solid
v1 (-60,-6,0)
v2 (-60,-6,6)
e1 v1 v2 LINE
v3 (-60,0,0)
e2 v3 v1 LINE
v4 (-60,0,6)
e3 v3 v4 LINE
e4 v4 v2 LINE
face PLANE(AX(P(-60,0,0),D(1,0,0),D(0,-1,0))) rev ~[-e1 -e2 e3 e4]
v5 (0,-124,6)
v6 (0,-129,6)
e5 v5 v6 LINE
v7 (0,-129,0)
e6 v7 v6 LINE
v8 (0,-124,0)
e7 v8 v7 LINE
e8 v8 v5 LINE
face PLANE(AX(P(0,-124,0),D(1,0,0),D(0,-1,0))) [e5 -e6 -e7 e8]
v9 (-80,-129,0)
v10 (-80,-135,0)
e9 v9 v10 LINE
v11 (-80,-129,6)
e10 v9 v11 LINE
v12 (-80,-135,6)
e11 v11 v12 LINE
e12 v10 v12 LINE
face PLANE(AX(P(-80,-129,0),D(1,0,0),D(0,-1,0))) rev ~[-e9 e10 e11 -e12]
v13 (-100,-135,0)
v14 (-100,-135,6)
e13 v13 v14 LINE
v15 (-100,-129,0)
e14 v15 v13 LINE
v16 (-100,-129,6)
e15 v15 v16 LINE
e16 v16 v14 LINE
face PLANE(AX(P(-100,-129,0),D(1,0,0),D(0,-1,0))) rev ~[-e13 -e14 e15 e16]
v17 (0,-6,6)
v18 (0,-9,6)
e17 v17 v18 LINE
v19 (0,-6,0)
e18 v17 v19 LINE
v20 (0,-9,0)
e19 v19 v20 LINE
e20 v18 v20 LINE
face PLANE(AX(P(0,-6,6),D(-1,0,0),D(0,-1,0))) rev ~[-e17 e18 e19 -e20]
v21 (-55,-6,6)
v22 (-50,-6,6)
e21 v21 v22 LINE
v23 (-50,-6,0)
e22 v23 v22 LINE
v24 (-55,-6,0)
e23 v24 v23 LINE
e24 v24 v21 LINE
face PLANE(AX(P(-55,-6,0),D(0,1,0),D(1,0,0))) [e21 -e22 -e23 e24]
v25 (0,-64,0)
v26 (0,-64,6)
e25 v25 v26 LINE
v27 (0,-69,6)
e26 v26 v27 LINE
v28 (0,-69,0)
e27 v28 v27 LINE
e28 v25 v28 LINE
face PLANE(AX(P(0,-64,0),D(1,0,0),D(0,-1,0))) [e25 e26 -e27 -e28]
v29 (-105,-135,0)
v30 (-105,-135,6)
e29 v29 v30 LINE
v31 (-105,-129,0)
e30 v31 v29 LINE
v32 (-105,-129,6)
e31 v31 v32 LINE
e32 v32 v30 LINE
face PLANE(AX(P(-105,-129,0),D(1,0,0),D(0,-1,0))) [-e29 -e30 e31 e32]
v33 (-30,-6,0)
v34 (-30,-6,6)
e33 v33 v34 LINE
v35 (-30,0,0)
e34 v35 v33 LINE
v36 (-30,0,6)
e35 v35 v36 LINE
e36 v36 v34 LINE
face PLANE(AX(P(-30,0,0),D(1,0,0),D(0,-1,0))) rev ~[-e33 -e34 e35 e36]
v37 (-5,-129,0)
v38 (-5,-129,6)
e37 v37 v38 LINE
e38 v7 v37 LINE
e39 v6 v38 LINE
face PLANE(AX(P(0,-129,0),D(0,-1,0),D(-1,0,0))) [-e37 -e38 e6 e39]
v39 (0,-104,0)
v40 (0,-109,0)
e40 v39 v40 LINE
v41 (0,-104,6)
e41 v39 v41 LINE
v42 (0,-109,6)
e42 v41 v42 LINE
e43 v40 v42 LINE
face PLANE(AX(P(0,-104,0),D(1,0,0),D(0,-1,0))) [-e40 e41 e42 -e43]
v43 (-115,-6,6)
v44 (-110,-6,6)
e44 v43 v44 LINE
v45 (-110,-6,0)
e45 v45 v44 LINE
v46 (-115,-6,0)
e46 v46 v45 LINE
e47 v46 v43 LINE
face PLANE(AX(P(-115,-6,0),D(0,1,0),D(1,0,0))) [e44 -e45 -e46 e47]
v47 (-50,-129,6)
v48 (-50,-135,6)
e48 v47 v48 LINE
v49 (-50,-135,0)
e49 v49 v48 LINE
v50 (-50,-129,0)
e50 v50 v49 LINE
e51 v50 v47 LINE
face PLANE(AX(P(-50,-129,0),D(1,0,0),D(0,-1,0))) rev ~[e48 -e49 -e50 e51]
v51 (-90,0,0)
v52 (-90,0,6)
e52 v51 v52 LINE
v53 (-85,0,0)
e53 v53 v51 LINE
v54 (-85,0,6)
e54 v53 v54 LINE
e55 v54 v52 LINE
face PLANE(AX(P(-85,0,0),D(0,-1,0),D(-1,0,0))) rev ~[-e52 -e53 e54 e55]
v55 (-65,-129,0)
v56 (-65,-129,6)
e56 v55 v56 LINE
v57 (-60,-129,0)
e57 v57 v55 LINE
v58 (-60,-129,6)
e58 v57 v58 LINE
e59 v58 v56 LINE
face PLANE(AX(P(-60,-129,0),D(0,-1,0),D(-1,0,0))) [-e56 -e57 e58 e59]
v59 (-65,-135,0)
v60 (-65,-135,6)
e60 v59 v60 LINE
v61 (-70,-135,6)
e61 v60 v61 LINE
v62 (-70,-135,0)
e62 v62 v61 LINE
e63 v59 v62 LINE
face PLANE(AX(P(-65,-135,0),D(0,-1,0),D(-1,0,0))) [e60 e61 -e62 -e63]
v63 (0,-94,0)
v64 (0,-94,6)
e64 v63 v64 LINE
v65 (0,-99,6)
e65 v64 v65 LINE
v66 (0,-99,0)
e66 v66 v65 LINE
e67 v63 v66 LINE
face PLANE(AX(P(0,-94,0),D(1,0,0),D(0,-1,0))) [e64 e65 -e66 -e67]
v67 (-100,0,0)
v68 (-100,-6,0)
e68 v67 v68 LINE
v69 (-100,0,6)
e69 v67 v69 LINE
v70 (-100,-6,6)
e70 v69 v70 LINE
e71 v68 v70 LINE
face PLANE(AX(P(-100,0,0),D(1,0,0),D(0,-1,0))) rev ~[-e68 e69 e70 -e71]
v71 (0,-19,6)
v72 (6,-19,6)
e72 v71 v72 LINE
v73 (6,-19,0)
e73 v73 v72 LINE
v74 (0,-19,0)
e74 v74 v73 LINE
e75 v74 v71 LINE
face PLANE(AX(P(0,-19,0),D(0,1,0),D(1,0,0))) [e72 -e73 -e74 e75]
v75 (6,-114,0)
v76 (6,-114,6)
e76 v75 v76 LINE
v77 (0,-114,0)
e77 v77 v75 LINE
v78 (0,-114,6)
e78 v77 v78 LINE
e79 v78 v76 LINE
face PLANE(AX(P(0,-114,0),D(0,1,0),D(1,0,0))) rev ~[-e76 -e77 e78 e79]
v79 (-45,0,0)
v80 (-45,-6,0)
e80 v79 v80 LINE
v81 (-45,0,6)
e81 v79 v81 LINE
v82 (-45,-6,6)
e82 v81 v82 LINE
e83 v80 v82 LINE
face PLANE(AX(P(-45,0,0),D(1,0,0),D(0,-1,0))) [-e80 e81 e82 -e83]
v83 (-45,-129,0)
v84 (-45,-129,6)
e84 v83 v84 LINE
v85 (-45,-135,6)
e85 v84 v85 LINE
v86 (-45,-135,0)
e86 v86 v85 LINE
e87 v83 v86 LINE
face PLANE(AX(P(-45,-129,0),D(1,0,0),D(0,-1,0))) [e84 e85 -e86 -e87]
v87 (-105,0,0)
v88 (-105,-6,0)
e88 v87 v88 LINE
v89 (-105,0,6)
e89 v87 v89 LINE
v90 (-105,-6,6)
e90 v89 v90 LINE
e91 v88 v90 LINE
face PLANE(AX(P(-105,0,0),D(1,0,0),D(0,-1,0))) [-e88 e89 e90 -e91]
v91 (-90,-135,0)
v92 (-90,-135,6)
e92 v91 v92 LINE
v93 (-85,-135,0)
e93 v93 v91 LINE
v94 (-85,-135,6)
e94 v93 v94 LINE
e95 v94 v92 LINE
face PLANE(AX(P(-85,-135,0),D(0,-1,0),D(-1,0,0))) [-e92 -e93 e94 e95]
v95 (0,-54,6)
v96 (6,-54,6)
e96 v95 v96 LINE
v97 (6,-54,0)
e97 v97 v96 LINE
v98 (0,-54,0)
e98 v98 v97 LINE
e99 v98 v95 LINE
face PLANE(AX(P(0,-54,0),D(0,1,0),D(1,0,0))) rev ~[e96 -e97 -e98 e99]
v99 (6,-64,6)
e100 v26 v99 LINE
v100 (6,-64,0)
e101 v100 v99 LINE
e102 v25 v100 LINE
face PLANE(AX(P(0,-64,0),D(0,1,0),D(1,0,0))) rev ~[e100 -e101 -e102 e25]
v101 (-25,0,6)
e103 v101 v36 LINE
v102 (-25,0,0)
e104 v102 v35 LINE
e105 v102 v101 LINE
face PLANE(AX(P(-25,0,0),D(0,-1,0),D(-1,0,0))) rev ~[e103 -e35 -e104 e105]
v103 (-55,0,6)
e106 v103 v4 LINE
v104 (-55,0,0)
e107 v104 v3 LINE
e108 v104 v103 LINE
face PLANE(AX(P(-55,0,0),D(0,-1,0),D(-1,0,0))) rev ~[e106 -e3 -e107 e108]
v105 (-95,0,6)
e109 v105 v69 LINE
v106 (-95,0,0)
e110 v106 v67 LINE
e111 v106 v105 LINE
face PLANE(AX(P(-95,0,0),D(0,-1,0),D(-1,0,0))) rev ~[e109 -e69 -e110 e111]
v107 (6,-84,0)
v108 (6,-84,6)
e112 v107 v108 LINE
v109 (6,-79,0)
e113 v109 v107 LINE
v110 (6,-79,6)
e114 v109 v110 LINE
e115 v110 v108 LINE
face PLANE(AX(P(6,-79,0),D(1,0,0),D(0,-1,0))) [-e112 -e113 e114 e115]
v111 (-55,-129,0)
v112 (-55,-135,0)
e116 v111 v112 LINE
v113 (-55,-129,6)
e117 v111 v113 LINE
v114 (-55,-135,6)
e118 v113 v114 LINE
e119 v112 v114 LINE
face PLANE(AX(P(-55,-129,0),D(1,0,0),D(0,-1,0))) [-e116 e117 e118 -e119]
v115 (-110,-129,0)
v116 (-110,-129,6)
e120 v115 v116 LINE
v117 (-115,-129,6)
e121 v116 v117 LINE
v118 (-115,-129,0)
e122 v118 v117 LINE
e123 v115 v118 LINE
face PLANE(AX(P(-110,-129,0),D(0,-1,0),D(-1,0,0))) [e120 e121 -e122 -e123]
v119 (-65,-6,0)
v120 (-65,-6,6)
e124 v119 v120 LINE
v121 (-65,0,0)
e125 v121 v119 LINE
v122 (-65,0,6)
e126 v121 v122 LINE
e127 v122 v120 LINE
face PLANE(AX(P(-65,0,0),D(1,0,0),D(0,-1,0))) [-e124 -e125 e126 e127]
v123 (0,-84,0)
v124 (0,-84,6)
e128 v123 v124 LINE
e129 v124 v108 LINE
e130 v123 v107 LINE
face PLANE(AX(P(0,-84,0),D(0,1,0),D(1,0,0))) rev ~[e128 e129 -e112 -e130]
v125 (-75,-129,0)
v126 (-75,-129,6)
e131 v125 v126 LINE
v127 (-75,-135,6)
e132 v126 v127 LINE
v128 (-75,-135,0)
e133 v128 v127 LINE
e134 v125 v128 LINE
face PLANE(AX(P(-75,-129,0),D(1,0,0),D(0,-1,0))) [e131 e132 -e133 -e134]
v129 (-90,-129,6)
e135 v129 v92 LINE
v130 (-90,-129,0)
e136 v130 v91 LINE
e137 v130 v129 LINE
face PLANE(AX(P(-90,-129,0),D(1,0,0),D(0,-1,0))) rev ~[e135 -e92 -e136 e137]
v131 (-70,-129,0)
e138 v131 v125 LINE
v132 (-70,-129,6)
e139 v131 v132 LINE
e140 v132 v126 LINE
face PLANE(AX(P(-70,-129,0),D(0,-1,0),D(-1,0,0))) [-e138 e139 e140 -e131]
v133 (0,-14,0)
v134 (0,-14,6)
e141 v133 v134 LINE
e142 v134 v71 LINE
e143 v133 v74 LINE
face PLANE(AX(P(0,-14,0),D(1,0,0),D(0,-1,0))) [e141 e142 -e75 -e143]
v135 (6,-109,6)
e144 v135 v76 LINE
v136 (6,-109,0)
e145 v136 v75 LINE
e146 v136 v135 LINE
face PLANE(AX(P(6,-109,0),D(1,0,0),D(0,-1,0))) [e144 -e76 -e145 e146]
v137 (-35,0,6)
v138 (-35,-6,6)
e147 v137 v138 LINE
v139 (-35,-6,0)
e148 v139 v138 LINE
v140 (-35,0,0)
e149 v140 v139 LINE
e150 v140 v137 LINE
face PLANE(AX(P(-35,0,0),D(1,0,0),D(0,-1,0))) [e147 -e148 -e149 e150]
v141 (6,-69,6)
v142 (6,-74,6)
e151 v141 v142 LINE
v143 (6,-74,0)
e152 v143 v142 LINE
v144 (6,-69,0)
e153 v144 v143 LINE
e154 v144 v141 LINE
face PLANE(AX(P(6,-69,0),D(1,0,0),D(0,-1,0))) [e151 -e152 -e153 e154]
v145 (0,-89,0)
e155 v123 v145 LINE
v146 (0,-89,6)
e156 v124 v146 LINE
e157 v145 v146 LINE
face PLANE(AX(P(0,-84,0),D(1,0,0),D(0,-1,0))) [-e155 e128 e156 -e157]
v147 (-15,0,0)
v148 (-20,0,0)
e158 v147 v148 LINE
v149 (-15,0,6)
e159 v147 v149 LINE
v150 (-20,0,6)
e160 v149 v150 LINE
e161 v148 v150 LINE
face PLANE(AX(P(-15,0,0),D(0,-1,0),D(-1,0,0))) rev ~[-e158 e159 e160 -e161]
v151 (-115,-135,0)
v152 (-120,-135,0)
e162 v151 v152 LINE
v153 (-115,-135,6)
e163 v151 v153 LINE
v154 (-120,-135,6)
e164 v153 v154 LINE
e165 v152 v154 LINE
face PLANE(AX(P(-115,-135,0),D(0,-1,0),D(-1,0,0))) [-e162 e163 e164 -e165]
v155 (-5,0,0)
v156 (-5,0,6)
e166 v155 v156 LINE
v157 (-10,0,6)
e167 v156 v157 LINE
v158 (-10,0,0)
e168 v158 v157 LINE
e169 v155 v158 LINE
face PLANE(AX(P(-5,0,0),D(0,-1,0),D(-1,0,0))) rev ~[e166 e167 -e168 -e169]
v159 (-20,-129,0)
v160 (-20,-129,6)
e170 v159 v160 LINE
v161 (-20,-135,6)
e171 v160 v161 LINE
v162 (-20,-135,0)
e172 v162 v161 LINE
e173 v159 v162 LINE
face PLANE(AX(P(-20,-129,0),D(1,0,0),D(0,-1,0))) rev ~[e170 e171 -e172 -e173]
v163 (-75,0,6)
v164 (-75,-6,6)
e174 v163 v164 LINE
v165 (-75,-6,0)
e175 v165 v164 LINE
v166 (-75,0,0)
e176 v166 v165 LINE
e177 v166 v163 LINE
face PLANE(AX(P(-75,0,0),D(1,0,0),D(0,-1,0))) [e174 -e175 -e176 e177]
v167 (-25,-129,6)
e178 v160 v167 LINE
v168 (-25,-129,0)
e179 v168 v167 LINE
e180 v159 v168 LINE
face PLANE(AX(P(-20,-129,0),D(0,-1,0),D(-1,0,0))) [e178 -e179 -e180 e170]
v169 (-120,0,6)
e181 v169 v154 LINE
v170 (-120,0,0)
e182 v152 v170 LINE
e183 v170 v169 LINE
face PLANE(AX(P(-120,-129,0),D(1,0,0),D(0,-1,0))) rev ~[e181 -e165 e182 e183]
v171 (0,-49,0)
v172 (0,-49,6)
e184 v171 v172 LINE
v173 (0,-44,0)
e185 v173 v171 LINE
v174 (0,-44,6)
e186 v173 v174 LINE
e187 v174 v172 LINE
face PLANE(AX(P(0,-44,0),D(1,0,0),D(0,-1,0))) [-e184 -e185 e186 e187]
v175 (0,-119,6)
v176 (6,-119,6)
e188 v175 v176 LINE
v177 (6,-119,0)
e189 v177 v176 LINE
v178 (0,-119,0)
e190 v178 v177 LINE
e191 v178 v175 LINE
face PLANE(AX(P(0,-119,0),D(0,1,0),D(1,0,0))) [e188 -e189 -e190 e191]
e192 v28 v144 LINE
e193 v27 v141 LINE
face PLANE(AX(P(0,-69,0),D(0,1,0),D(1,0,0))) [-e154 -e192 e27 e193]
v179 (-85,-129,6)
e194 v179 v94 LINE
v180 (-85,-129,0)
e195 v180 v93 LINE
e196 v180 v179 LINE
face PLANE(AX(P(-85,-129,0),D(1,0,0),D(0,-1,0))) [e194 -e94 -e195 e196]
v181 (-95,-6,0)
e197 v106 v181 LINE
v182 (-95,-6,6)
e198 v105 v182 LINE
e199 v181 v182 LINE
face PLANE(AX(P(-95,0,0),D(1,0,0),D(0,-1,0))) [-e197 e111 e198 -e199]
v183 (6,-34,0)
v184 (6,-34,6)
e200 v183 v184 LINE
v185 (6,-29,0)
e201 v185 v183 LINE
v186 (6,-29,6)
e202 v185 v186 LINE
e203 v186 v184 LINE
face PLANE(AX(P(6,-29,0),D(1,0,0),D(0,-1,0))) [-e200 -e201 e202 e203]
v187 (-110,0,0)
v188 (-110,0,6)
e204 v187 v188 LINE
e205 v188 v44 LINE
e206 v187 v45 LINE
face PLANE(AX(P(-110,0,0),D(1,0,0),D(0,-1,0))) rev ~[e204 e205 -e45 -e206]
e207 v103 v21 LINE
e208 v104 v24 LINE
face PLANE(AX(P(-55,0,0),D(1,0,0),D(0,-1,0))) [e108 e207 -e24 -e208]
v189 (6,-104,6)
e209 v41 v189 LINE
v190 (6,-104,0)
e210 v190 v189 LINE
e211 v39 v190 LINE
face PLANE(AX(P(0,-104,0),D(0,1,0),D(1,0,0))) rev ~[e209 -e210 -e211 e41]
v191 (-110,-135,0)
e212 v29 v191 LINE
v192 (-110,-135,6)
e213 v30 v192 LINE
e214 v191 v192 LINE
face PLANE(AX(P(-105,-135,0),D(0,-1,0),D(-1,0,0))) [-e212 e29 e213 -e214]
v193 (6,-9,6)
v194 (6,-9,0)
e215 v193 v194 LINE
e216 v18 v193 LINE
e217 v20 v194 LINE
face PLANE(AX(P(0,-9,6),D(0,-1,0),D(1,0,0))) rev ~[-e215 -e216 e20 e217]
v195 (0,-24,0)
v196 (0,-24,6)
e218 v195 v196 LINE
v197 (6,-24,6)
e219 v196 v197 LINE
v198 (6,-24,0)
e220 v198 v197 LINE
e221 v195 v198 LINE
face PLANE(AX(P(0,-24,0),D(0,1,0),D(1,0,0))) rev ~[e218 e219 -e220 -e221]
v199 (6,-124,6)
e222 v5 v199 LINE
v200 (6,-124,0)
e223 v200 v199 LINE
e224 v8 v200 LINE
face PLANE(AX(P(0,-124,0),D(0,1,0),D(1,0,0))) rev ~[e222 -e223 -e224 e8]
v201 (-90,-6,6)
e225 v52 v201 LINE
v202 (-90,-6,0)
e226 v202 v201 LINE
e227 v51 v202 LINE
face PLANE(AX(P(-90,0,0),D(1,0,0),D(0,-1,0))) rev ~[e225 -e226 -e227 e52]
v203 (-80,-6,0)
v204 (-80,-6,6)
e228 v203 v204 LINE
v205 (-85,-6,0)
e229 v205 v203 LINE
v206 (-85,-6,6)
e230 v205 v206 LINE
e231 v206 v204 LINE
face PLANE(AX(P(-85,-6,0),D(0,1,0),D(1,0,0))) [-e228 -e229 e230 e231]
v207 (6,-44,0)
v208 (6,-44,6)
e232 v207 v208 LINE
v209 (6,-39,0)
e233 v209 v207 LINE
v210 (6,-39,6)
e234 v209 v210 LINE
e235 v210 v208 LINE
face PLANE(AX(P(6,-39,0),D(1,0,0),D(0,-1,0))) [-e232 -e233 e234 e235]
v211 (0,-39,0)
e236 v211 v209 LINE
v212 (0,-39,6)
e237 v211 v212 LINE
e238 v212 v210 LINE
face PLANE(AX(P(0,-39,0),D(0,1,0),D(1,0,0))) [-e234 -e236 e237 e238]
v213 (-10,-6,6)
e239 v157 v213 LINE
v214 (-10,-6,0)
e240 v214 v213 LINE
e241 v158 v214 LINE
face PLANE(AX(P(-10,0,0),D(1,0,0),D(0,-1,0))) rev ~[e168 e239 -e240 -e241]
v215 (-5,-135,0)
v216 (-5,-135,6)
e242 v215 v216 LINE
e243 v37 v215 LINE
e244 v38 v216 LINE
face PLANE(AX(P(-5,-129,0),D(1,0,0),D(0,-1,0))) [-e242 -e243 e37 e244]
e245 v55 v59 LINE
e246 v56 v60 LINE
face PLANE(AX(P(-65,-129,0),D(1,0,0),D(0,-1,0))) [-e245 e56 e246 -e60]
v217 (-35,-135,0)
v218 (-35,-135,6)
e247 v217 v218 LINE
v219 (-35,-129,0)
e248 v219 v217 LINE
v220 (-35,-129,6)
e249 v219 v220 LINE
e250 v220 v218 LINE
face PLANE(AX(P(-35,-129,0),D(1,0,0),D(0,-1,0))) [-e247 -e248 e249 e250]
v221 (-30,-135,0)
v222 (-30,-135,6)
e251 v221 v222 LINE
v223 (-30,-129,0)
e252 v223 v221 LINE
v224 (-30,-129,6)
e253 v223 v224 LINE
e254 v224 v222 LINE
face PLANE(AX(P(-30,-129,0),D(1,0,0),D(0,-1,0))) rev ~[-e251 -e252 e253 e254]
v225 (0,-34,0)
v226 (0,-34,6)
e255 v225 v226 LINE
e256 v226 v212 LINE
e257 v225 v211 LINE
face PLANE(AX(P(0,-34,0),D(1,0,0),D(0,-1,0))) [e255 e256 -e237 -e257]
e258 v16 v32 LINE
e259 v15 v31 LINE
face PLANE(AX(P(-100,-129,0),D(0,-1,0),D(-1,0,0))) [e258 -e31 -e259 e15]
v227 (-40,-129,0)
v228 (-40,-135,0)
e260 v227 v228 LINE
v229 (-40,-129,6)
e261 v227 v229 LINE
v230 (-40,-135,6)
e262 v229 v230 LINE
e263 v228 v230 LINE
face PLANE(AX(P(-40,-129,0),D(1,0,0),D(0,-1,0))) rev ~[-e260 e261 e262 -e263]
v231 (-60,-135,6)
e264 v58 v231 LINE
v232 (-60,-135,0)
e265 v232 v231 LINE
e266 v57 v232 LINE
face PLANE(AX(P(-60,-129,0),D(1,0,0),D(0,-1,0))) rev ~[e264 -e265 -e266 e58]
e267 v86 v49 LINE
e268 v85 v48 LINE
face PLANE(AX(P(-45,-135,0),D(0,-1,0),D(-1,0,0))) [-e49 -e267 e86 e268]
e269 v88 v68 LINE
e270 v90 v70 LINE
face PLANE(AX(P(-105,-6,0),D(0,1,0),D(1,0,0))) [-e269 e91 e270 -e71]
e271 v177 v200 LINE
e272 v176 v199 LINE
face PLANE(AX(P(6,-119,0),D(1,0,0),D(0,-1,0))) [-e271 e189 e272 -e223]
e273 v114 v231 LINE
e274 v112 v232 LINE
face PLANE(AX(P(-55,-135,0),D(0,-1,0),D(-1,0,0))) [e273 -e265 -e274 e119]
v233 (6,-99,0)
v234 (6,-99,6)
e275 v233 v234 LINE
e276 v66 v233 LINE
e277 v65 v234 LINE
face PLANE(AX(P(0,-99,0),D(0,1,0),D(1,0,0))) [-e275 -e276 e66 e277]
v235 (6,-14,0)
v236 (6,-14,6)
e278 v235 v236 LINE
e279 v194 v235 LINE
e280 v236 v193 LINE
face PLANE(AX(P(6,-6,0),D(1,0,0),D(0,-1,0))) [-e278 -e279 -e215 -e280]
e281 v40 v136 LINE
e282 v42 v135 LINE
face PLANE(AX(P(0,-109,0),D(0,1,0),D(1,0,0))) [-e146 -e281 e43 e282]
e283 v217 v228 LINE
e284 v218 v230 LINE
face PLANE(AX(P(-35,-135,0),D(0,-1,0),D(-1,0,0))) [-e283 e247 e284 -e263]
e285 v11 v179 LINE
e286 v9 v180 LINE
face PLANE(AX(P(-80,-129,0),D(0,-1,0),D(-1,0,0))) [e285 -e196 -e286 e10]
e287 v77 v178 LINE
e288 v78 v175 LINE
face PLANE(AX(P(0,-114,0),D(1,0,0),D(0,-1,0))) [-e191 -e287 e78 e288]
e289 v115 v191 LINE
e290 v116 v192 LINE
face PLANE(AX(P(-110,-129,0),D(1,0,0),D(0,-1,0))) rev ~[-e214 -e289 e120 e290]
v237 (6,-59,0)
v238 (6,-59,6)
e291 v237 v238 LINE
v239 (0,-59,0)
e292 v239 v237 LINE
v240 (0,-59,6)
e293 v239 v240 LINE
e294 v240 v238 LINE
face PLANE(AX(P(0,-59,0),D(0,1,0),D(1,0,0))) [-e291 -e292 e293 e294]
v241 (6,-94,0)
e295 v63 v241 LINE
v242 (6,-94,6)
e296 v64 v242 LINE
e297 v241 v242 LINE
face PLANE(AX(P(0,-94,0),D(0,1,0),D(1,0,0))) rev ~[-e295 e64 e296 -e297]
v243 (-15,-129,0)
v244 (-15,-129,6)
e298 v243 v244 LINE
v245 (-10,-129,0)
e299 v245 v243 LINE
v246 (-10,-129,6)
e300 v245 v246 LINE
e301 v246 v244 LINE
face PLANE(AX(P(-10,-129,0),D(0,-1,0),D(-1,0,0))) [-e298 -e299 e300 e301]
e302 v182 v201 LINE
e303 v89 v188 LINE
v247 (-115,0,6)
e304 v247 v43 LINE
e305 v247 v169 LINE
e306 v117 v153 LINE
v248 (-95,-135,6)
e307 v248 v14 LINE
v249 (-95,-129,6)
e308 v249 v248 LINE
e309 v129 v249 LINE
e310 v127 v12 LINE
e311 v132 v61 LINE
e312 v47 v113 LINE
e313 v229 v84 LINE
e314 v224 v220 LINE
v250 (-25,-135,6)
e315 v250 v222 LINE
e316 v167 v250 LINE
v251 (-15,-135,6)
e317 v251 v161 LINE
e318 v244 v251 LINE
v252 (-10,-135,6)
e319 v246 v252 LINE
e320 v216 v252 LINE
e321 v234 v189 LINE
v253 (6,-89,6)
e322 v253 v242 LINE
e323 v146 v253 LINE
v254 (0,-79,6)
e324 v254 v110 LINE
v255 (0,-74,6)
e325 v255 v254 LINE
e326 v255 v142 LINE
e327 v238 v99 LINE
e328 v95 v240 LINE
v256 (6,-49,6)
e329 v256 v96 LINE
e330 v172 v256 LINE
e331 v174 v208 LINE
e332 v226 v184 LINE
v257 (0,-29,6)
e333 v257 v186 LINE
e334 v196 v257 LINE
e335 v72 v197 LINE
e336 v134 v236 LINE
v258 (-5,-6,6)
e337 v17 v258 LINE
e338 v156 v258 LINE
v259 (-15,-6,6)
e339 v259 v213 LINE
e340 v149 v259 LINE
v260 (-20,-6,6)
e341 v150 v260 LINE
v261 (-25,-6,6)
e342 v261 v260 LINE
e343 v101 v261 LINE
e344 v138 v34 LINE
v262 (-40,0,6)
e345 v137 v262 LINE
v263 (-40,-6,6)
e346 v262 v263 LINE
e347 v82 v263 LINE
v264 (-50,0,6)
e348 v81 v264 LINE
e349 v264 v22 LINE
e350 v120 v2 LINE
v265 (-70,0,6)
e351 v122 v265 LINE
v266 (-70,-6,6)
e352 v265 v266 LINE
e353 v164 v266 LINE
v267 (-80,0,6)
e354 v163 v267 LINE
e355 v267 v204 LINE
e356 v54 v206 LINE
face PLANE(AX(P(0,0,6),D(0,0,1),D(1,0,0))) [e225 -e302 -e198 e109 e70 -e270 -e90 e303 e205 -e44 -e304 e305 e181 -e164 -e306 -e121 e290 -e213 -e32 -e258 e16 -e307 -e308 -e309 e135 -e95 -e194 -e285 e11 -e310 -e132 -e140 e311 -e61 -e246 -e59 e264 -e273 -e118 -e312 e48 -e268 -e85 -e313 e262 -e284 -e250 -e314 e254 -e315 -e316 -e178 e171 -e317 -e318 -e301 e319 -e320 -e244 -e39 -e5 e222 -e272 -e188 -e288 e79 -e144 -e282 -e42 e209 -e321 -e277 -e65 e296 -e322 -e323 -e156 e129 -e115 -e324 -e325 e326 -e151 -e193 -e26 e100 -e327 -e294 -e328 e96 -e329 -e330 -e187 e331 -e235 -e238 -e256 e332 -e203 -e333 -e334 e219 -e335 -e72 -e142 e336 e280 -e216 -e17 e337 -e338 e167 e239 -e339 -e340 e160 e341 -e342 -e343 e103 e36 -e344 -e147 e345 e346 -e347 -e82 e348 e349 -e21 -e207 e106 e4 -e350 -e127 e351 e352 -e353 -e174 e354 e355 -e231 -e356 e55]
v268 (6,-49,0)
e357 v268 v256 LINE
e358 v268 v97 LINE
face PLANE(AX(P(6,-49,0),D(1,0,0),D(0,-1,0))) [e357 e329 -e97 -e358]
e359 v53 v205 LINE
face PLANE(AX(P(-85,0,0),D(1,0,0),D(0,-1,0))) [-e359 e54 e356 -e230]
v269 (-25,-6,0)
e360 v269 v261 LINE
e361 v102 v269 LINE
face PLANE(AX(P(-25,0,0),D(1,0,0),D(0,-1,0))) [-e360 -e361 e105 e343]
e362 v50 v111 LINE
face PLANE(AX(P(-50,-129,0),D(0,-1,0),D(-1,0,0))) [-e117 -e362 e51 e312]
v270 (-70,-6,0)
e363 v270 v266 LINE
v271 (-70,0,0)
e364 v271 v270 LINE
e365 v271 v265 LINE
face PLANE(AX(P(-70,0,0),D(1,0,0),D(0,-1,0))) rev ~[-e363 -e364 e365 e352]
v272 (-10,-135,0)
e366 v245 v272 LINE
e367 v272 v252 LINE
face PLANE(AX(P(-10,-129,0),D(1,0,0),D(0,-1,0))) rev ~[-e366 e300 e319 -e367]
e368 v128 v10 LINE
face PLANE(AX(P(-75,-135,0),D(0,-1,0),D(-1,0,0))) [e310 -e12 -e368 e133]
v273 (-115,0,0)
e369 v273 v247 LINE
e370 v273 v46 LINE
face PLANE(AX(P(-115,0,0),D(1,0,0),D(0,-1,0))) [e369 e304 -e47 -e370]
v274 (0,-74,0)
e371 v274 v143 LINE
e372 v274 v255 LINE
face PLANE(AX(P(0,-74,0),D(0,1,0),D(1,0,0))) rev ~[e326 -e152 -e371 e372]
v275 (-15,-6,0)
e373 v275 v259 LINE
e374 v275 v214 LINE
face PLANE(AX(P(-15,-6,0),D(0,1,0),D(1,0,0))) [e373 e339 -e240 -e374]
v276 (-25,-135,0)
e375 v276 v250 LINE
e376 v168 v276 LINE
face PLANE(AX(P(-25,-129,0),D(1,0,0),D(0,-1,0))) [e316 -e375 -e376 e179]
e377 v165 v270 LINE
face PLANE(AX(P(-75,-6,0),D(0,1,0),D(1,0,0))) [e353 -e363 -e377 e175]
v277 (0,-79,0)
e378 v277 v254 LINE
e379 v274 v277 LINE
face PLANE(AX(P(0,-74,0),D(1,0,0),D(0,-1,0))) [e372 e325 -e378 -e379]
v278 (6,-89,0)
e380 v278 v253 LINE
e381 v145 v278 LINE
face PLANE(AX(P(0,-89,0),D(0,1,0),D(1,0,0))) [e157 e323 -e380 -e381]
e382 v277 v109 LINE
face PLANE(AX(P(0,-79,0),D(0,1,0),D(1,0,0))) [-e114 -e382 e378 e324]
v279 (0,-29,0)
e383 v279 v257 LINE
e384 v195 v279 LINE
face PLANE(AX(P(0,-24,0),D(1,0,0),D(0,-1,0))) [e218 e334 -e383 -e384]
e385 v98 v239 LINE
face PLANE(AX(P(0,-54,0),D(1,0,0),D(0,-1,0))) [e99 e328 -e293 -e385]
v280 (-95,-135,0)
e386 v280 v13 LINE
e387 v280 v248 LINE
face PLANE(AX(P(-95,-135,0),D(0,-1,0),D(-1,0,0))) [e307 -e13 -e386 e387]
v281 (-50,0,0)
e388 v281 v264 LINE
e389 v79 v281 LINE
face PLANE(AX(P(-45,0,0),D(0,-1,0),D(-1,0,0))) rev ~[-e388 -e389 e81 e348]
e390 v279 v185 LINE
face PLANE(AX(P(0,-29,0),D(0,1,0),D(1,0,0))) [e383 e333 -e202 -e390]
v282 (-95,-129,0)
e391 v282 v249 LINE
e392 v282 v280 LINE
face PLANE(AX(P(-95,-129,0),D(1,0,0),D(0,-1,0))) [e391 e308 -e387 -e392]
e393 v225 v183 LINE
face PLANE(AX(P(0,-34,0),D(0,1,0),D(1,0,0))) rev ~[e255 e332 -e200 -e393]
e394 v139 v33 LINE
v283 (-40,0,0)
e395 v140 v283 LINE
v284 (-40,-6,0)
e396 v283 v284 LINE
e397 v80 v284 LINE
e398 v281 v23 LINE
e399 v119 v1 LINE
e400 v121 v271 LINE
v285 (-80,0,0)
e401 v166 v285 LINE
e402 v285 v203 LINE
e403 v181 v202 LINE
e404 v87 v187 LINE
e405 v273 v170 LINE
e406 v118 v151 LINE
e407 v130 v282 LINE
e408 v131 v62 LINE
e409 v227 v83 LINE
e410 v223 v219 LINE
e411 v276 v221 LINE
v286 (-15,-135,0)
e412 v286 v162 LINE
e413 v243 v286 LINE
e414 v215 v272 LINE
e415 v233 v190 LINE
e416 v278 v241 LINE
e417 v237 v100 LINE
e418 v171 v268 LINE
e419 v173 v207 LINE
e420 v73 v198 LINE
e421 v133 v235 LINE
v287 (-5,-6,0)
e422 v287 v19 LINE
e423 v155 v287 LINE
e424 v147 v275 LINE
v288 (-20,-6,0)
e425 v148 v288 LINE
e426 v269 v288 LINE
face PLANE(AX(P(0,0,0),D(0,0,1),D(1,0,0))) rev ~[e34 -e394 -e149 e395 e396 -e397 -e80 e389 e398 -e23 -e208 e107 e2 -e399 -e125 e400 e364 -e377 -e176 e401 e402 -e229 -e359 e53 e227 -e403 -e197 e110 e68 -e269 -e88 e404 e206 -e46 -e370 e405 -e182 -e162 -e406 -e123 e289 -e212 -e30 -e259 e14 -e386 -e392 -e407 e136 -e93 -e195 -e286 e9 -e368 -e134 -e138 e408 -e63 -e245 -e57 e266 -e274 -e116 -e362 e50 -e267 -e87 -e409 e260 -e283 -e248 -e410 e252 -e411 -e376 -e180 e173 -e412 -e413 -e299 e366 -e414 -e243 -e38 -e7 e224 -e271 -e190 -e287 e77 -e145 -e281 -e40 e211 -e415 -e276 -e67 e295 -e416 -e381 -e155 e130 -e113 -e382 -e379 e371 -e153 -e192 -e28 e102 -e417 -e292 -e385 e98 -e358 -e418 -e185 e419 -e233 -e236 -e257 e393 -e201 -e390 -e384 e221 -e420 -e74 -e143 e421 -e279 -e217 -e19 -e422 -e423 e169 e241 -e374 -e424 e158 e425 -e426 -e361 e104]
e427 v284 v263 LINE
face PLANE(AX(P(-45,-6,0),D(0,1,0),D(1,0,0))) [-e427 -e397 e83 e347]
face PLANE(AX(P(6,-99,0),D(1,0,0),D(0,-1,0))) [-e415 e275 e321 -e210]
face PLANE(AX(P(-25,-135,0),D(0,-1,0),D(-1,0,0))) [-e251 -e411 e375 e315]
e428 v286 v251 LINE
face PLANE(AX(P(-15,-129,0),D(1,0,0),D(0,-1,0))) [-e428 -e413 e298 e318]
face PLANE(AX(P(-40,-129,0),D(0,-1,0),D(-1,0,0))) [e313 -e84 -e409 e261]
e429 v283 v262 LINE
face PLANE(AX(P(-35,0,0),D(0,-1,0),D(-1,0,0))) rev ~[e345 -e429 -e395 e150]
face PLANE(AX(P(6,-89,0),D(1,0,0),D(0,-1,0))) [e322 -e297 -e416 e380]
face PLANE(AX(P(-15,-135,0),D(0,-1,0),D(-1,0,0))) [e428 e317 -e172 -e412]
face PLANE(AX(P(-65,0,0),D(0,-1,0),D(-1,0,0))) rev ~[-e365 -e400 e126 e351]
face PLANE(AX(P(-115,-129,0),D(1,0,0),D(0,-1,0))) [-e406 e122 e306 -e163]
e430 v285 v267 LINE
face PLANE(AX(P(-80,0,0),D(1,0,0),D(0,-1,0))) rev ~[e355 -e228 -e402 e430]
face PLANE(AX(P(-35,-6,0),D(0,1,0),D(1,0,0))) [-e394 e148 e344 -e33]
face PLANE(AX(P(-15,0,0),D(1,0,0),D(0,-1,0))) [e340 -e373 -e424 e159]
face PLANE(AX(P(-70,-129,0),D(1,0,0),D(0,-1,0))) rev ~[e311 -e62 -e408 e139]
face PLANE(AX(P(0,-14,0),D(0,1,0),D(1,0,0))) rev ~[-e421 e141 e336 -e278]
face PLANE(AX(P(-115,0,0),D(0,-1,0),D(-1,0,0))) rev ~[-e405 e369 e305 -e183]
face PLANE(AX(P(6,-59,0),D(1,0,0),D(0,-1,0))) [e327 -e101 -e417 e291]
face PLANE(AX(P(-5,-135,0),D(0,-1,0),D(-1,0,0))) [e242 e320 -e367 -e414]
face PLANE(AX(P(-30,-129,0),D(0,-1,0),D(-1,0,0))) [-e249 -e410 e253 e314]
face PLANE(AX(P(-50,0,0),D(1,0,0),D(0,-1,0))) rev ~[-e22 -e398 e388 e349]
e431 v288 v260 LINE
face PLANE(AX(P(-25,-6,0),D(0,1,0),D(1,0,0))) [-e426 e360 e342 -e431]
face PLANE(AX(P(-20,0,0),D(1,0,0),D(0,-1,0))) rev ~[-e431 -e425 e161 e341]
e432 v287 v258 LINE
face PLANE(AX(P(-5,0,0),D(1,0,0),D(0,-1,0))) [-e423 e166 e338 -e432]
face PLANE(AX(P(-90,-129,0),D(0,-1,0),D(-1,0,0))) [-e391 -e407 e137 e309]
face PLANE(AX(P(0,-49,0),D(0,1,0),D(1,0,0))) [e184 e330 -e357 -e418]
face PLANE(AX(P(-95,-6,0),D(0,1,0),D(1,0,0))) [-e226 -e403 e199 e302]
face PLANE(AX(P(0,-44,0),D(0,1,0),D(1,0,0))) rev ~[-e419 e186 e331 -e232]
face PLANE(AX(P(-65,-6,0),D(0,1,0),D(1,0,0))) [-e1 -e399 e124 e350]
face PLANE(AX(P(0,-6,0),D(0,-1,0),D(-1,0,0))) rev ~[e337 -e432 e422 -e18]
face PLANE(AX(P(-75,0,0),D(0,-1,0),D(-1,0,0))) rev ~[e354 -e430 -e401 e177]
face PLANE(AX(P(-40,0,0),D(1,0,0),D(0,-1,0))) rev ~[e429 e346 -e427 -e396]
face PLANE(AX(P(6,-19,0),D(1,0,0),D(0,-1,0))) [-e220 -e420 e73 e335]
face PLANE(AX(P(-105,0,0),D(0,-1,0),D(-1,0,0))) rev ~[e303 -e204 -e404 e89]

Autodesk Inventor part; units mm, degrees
ref_plane "YZ Plane" through (0, 0, 0) normal (1, 0, 0) x (0, 1, 0)
ref_plane "XZ Plane" through (0, 0, 0) normal (0, 1, 0) x (-1, 0, 0)
ref_plane "XY Plane" through (0, 0, 0) normal (0, 0, 1) x (1, 0, 0)
sketch "Эскиз1" plane through (0, 0, 0) normal (0, 0, 1) x (1, 0, 0)
  line L0 (-115, -129) -> (-120, -129) projected
  line L1 (0, -129) -> (-5, -129) projected
  line L2 (-5, -129) -> (-10, -129) projected
  line L3 (-10, -129) -> (-10, -135) projected
  line L4 (-5, -135) -> (-10, -135) projected
  line L5 (-5, -129) -> (-5, -135) projected
  line L6 (-15, -129) -> (-20, -129) projected
  line L7 (-20, -129) -> (-20, -135) projected
  line L8 (-15, -135) -> (-20, -135) projected
  line L9 (-15, -129) -> (-15, -135) projected
  line L10 (-10, -129) -> (-15, -129) projected
  line L11 (-25, -129) -> (-30, -129) projected
  line L12 (-30, -129) -> (-30, -135) projected
  line L13 (-25, -135) -> (-30, -135) projected
  line L14 (-25, -129) -> (-25, -135) projected
  line L15 (-35, -129) -> (-40, -129) projected
  line L16 (-40, -129) -> (-40, -135) projected
  line L17 (-35, -135) -> (-40, -135) projected
  line L18 (-35, -129) -> (-35, -135) projected
  line L19 (-45, -129) -> (-50, -129) projected
  line L20 (-50, -129) -> (-50, -135) projected
  line L21 (-45, -135) -> (-50, -135) projected
  line L22 (-45, -129) -> (-45, -135) projected
  line L23 (-55, -129) -> (-60, -129) projected
  line L24 (-60, -129) -> (-60, -135) projected
  line L25 (-55, -135) -> (-60, -135) projected
  line L26 (-55, -129) -> (-55, -135) projected
  line L27 (-65, -129) -> (-70, -129) projected
  line L28 (-70, -129) -> (-70, -135) projected
  line L29 (-65, -135) -> (-70, -135) projected
  line L30 (-65, -129) -> (-65, -135) projected
  line L31 (-75, -129) -> (-80, -129) projected
  line L32 (-80, -129) -> (-80, -135) projected
  line L33 (-75, -135) -> (-80, -135) projected
  line L34 (-75, -129) -> (-75, -135) projected
  line L35 (-85, -129) -> (-90, -129) projected
  line L36 (-90, -129) -> (-90, -135) projected
  line L37 (-85, -135) -> (-90, -135) projected
  line L38 (-85, -129) -> (-85, -135) projected
  line L39 (-105, -129) -> (-110, -129) projected
  line L40 (-110, -129) -> (-110, -135) projected
  line L41 (-105, -135) -> (-110, -135) projected
  line L42 (-105, -129) -> (-105, -135) projected
  line L43 (-95, -129) -> (-100, -129) projected
  line L44 (-100, -129) -> (-100, -135) projected
  line L45 (-95, -135) -> (-100, -135) projected
  line L46 (-95, -129) -> (-95, -135) projected
  line L47 (-115, -129) -> (-120, -129) projected
  line L48 (-120, -129) -> (-120, -135) projected
  line L49 (-115, -135) -> (-120, -135) projected
  line L50 (-115, -129) -> (-115, -135) projected
  line L51 (-110, -129) -> (-115, -129) projected
  line L52 (-115, 0) -> (-120, 0) projected
  line L53 (-120, 0) -> (-120, -6) projected
  line L54 (-115, -6) -> (-120, -6) projected
  line L55 (-115, 0) -> (-115, -6) projected
  line L56 (-105, 0) -> (-110, 0) projected
  line L57 (-110, 0) -> (-110, -6) projected
  line L58 (-105, -6) -> (-110, -6) projected
  line L59 (-105, 0) -> (-105, -6) projected
  line L60 (-95, 0) -> (-100, 0) projected
  line L61 (-100, 0) -> (-100, -6) projected
  line L62 (-95, -6) -> (-100, -6) projected
  line L63 (-95, 0) -> (-95, -6) projected
  line L64 (-85, 0) -> (-90, 0) projected
  line L65 (-90, 0) -> (-90, -6) projected
  line L66 (-85, -6) -> (-90, -6) projected
  line L67 (-85, 0) -> (-85, -6) projected
  line L68 (-75, 0) -> (-80, 0) projected
  line L69 (-80, 0) -> (-80, -6) projected
  line L70 (-75, -6) -> (-80, -6) projected
  line L71 (-75, 0) -> (-75, -6) projected
  line L72 (-65, 0) -> (-70, 0) projected
  line L73 (-70, 0) -> (-70, -6) projected
  line L74 (-65, -6) -> (-70, -6) projected
  line L75 (-65, 0) -> (-65, -6) projected
  line L76 (-55, 0) -> (-60, 0) projected
  line L77 (-60, 0) -> (-60, -6) projected
  line L78 (-55, -6) -> (-60, -6) projected
  line L79 (-55, 0) -> (-55, -6) projected
  line L80 (-45, 0) -> (-50, 0) projected
  line L81 (-50, 0) -> (-50, -6) projected
  line L82 (-45, -6) -> (-50, -6) projected
  line L83 (-45, 0) -> (-45, -6) projected
  line L84 (-35, -6) -> (-40, -6) projected
  line L85 (-25, 0) -> (-30, 0) projected
  line L86 (-30, 0) -> (-30, -6) projected
  line L87 (-25, -6) -> (-30, -6) projected
  line L88 (-25, 0) -> (-25, -6) projected
  line L89 (-15, 0) -> (-20, 0) projected
  line L90 (-20, 0) -> (-20, -6) projected
  line L91 (-15, -6) -> (-20, -6) projected
  line L92 (-15, 0) -> (-15, -6) projected
  line L93 (-5, 0) -> (-10, 0) projected
  line L94 (-10, 0) -> (-10, -6) projected
  line L95 (-5, -6) -> (-10, -6) projected
  line L96 (-5, 0) -> (-5, -6) projected
  line L97 (0, -6) -> (-5, -6) projected
  line L98 (0, 0) -> (0, -6) projected
  line L99 (0, -6) -> (6, -6) projected
  line L100 (6, 0) -> (6, -6) projected
  line L101 (0, 0) -> (6, 0) projected
  line L102 (0, -6) -> (0, -9) projected
  line L103 (0, -6) -> (0, -9) projected
  line L104 (0, -9) -> (6, -9) projected
  line L105 (6, -6) -> (6, -9) projected
  line L106 (0, -6) -> (6, -6) projected
  line L107 (0, -9) -> (0, -14) projected
  line L108 (0, -14) -> (6, -14) projected
  line L109 (6, -9) -> (6, -14) projected
  line L110 (0, -9) -> (6, -9) projected
  line L111 (0, -19) -> (0, -24) projected
  line L112 (0, -24) -> (6, -24) projected
  line L113 (6, -19) -> (6, -24) projected
  line L114 (0, -19) -> (6, -19) projected
  line L115 (0, -29) -> (0, -34) projected
  line L116 (0, -34) -> (6, -34) projected
  line L117 (6, -29) -> (6, -34) projected
  line L118 (0, -29) -> (6, -29) projected
  line L119 (0, -39) -> (0, -44) projected
  line L120 (0, -44) -> (6, -44) projected
  line L121 (6, -39) -> (6, -44) projected
  line L122 (0, -39) -> (6, -39) projected
  line L123 (0, -49) -> (0, -54) projected
  line L124 (0, -54) -> (6, -54) projected
  line L125 (6, -49) -> (6, -54) projected
  line L126 (0, -49) -> (6, -49) projected
  line L127 (0, -59) -> (0, -64) projected
  line L128 (0, -64) -> (6, -64) projected
  line L129 (6, -59) -> (6, -64) projected
  line L130 (0, -59) -> (6, -59) projected
  line L131 (0, -69) -> (0, -74) projected
  line L132 (0, -74) -> (6, -74) projected
  line L133 (6, -69) -> (6, -74) projected
  line L134 (0, -69) -> (6, -69) projected
  line L135 (0, -79) -> (0, -84) projected
  line L136 (0, -84) -> (6, -84) projected
  line L137 (6, -79) -> (6, -84) projected
  line L138 (0, -79) -> (6, -79) projected
  line L139 (0, -89) -> (0, -94) projected
  line L140 (0, -94) -> (6, -94) projected
  line L141 (6, -89) -> (6, -94) projected
  line L142 (0, -89) -> (6, -89) projected
  line L143 (0, -99) -> (0, -104) projected
  line L144 (0, -104) -> (6, -104) projected
  line L145 (6, -99) -> (6, -104) projected
  line L146 (0, -99) -> (6, -99) projected
  line L147 (0, -109) -> (0, -114) projected
  line L148 (0, -114) -> (6, -114) projected
  line L149 (6, -109) -> (6, -114) projected
  line L150 (0, -109) -> (6, -109) projected
  line L151 (0, -119) -> (0, -124) projected
  line L152 (0, -124) -> (6, -124) projected
  line L153 (6, -119) -> (6, -124) projected
  line L154 (0, -119) -> (6, -119) projected
  line L155 (0, -124) -> (0, -129) projected
  line L156 (-120, -6) -> (0, -6)
  line L157 (0, -6) -> (0, -129)
  line L158 (0, -129) -> (-120, -129)
  line L159 (-120, -129) -> (-120, -6)
  line L160 (-35, 0) -> (-40, 0) projected
  line L161 (-40, 0) -> (-40, -6) projected
  line L162 (-35, -6) -> (-40, -6) projected
  line L163 (-35, 0) -> (-35, -6) projected
extrude "Выдавливание1" add sketch "Эскиз1" along normal blind 6 contours L50 L49 L48 L0 | L0 L159 L54 L156 L58 L62 L66 L70 L74 L78 L82 L84 L87 L91 L95 L97 L102 L107 L157 L111 L115 L119 L123 L127 L131 L135 L139 L143 L147 L151 L155 L1 L2 L10 L6 L158 L11 L15 L19 L23 L27 L31 L35 L43 L39 L51 | L39 L42 L41 L40 | L53 L52 L55 L54 | L43 L46 L45 L44 | L57 L56 L59 L58 | L35 L38 L37 L36 | L61 L60 L63 L62 | L31 L34 L33 L32 | L65 L64 L67 L66 | L27 L30 L29 L28 | L69 L68 L71 L70 | L23 L26 L25 L24 | L73 L72 L75 L74 | L19 L22 L21 L20 | L77 L76 L79 L78 | L15 L18 L17 L16 | L81 L80 L83 L82 | L11 L14 L13 L12 | L161 L160 L163 L84 | L6 L9 L8 L7 | L86 L85 L88 L87 | L2 L5 L4 L3 | L90 L89 L92 L91 | L94 L93 L96 L95 | L151 L154 L153 L152 | L99 L105 L104 L102 | L147 L150 L149 L148 | L104 L109 L108 L107 | L143 L146 L145 L144 | L114 L113 L112 L111 | L139 L142 L141 L140 | L118 L117 L116 L115 | L135 L138 L137 L136 | L122 L121 L120 L119 | L131 L134 L133 L132 | L126 L125 L124 L123 | L127 L130 L129 L128
sketch "Эскиз2" plane through (0, 0, 6) normal (0, 0, 1) x (1, 0, 0)
  line L0 (0, -6) -> (0, -9) projected
  line L1 (0, -9) -> (6, -9) projected
  line L2 (6, -6) -> (6, -9) projected
  line L3 (0, -6) -> (6, -6) projected
  point P0 (0, 0)
extrude "Выдавливание2" cut sketch "Эскиз2" against normal blind 6
properties part number "malsten"
